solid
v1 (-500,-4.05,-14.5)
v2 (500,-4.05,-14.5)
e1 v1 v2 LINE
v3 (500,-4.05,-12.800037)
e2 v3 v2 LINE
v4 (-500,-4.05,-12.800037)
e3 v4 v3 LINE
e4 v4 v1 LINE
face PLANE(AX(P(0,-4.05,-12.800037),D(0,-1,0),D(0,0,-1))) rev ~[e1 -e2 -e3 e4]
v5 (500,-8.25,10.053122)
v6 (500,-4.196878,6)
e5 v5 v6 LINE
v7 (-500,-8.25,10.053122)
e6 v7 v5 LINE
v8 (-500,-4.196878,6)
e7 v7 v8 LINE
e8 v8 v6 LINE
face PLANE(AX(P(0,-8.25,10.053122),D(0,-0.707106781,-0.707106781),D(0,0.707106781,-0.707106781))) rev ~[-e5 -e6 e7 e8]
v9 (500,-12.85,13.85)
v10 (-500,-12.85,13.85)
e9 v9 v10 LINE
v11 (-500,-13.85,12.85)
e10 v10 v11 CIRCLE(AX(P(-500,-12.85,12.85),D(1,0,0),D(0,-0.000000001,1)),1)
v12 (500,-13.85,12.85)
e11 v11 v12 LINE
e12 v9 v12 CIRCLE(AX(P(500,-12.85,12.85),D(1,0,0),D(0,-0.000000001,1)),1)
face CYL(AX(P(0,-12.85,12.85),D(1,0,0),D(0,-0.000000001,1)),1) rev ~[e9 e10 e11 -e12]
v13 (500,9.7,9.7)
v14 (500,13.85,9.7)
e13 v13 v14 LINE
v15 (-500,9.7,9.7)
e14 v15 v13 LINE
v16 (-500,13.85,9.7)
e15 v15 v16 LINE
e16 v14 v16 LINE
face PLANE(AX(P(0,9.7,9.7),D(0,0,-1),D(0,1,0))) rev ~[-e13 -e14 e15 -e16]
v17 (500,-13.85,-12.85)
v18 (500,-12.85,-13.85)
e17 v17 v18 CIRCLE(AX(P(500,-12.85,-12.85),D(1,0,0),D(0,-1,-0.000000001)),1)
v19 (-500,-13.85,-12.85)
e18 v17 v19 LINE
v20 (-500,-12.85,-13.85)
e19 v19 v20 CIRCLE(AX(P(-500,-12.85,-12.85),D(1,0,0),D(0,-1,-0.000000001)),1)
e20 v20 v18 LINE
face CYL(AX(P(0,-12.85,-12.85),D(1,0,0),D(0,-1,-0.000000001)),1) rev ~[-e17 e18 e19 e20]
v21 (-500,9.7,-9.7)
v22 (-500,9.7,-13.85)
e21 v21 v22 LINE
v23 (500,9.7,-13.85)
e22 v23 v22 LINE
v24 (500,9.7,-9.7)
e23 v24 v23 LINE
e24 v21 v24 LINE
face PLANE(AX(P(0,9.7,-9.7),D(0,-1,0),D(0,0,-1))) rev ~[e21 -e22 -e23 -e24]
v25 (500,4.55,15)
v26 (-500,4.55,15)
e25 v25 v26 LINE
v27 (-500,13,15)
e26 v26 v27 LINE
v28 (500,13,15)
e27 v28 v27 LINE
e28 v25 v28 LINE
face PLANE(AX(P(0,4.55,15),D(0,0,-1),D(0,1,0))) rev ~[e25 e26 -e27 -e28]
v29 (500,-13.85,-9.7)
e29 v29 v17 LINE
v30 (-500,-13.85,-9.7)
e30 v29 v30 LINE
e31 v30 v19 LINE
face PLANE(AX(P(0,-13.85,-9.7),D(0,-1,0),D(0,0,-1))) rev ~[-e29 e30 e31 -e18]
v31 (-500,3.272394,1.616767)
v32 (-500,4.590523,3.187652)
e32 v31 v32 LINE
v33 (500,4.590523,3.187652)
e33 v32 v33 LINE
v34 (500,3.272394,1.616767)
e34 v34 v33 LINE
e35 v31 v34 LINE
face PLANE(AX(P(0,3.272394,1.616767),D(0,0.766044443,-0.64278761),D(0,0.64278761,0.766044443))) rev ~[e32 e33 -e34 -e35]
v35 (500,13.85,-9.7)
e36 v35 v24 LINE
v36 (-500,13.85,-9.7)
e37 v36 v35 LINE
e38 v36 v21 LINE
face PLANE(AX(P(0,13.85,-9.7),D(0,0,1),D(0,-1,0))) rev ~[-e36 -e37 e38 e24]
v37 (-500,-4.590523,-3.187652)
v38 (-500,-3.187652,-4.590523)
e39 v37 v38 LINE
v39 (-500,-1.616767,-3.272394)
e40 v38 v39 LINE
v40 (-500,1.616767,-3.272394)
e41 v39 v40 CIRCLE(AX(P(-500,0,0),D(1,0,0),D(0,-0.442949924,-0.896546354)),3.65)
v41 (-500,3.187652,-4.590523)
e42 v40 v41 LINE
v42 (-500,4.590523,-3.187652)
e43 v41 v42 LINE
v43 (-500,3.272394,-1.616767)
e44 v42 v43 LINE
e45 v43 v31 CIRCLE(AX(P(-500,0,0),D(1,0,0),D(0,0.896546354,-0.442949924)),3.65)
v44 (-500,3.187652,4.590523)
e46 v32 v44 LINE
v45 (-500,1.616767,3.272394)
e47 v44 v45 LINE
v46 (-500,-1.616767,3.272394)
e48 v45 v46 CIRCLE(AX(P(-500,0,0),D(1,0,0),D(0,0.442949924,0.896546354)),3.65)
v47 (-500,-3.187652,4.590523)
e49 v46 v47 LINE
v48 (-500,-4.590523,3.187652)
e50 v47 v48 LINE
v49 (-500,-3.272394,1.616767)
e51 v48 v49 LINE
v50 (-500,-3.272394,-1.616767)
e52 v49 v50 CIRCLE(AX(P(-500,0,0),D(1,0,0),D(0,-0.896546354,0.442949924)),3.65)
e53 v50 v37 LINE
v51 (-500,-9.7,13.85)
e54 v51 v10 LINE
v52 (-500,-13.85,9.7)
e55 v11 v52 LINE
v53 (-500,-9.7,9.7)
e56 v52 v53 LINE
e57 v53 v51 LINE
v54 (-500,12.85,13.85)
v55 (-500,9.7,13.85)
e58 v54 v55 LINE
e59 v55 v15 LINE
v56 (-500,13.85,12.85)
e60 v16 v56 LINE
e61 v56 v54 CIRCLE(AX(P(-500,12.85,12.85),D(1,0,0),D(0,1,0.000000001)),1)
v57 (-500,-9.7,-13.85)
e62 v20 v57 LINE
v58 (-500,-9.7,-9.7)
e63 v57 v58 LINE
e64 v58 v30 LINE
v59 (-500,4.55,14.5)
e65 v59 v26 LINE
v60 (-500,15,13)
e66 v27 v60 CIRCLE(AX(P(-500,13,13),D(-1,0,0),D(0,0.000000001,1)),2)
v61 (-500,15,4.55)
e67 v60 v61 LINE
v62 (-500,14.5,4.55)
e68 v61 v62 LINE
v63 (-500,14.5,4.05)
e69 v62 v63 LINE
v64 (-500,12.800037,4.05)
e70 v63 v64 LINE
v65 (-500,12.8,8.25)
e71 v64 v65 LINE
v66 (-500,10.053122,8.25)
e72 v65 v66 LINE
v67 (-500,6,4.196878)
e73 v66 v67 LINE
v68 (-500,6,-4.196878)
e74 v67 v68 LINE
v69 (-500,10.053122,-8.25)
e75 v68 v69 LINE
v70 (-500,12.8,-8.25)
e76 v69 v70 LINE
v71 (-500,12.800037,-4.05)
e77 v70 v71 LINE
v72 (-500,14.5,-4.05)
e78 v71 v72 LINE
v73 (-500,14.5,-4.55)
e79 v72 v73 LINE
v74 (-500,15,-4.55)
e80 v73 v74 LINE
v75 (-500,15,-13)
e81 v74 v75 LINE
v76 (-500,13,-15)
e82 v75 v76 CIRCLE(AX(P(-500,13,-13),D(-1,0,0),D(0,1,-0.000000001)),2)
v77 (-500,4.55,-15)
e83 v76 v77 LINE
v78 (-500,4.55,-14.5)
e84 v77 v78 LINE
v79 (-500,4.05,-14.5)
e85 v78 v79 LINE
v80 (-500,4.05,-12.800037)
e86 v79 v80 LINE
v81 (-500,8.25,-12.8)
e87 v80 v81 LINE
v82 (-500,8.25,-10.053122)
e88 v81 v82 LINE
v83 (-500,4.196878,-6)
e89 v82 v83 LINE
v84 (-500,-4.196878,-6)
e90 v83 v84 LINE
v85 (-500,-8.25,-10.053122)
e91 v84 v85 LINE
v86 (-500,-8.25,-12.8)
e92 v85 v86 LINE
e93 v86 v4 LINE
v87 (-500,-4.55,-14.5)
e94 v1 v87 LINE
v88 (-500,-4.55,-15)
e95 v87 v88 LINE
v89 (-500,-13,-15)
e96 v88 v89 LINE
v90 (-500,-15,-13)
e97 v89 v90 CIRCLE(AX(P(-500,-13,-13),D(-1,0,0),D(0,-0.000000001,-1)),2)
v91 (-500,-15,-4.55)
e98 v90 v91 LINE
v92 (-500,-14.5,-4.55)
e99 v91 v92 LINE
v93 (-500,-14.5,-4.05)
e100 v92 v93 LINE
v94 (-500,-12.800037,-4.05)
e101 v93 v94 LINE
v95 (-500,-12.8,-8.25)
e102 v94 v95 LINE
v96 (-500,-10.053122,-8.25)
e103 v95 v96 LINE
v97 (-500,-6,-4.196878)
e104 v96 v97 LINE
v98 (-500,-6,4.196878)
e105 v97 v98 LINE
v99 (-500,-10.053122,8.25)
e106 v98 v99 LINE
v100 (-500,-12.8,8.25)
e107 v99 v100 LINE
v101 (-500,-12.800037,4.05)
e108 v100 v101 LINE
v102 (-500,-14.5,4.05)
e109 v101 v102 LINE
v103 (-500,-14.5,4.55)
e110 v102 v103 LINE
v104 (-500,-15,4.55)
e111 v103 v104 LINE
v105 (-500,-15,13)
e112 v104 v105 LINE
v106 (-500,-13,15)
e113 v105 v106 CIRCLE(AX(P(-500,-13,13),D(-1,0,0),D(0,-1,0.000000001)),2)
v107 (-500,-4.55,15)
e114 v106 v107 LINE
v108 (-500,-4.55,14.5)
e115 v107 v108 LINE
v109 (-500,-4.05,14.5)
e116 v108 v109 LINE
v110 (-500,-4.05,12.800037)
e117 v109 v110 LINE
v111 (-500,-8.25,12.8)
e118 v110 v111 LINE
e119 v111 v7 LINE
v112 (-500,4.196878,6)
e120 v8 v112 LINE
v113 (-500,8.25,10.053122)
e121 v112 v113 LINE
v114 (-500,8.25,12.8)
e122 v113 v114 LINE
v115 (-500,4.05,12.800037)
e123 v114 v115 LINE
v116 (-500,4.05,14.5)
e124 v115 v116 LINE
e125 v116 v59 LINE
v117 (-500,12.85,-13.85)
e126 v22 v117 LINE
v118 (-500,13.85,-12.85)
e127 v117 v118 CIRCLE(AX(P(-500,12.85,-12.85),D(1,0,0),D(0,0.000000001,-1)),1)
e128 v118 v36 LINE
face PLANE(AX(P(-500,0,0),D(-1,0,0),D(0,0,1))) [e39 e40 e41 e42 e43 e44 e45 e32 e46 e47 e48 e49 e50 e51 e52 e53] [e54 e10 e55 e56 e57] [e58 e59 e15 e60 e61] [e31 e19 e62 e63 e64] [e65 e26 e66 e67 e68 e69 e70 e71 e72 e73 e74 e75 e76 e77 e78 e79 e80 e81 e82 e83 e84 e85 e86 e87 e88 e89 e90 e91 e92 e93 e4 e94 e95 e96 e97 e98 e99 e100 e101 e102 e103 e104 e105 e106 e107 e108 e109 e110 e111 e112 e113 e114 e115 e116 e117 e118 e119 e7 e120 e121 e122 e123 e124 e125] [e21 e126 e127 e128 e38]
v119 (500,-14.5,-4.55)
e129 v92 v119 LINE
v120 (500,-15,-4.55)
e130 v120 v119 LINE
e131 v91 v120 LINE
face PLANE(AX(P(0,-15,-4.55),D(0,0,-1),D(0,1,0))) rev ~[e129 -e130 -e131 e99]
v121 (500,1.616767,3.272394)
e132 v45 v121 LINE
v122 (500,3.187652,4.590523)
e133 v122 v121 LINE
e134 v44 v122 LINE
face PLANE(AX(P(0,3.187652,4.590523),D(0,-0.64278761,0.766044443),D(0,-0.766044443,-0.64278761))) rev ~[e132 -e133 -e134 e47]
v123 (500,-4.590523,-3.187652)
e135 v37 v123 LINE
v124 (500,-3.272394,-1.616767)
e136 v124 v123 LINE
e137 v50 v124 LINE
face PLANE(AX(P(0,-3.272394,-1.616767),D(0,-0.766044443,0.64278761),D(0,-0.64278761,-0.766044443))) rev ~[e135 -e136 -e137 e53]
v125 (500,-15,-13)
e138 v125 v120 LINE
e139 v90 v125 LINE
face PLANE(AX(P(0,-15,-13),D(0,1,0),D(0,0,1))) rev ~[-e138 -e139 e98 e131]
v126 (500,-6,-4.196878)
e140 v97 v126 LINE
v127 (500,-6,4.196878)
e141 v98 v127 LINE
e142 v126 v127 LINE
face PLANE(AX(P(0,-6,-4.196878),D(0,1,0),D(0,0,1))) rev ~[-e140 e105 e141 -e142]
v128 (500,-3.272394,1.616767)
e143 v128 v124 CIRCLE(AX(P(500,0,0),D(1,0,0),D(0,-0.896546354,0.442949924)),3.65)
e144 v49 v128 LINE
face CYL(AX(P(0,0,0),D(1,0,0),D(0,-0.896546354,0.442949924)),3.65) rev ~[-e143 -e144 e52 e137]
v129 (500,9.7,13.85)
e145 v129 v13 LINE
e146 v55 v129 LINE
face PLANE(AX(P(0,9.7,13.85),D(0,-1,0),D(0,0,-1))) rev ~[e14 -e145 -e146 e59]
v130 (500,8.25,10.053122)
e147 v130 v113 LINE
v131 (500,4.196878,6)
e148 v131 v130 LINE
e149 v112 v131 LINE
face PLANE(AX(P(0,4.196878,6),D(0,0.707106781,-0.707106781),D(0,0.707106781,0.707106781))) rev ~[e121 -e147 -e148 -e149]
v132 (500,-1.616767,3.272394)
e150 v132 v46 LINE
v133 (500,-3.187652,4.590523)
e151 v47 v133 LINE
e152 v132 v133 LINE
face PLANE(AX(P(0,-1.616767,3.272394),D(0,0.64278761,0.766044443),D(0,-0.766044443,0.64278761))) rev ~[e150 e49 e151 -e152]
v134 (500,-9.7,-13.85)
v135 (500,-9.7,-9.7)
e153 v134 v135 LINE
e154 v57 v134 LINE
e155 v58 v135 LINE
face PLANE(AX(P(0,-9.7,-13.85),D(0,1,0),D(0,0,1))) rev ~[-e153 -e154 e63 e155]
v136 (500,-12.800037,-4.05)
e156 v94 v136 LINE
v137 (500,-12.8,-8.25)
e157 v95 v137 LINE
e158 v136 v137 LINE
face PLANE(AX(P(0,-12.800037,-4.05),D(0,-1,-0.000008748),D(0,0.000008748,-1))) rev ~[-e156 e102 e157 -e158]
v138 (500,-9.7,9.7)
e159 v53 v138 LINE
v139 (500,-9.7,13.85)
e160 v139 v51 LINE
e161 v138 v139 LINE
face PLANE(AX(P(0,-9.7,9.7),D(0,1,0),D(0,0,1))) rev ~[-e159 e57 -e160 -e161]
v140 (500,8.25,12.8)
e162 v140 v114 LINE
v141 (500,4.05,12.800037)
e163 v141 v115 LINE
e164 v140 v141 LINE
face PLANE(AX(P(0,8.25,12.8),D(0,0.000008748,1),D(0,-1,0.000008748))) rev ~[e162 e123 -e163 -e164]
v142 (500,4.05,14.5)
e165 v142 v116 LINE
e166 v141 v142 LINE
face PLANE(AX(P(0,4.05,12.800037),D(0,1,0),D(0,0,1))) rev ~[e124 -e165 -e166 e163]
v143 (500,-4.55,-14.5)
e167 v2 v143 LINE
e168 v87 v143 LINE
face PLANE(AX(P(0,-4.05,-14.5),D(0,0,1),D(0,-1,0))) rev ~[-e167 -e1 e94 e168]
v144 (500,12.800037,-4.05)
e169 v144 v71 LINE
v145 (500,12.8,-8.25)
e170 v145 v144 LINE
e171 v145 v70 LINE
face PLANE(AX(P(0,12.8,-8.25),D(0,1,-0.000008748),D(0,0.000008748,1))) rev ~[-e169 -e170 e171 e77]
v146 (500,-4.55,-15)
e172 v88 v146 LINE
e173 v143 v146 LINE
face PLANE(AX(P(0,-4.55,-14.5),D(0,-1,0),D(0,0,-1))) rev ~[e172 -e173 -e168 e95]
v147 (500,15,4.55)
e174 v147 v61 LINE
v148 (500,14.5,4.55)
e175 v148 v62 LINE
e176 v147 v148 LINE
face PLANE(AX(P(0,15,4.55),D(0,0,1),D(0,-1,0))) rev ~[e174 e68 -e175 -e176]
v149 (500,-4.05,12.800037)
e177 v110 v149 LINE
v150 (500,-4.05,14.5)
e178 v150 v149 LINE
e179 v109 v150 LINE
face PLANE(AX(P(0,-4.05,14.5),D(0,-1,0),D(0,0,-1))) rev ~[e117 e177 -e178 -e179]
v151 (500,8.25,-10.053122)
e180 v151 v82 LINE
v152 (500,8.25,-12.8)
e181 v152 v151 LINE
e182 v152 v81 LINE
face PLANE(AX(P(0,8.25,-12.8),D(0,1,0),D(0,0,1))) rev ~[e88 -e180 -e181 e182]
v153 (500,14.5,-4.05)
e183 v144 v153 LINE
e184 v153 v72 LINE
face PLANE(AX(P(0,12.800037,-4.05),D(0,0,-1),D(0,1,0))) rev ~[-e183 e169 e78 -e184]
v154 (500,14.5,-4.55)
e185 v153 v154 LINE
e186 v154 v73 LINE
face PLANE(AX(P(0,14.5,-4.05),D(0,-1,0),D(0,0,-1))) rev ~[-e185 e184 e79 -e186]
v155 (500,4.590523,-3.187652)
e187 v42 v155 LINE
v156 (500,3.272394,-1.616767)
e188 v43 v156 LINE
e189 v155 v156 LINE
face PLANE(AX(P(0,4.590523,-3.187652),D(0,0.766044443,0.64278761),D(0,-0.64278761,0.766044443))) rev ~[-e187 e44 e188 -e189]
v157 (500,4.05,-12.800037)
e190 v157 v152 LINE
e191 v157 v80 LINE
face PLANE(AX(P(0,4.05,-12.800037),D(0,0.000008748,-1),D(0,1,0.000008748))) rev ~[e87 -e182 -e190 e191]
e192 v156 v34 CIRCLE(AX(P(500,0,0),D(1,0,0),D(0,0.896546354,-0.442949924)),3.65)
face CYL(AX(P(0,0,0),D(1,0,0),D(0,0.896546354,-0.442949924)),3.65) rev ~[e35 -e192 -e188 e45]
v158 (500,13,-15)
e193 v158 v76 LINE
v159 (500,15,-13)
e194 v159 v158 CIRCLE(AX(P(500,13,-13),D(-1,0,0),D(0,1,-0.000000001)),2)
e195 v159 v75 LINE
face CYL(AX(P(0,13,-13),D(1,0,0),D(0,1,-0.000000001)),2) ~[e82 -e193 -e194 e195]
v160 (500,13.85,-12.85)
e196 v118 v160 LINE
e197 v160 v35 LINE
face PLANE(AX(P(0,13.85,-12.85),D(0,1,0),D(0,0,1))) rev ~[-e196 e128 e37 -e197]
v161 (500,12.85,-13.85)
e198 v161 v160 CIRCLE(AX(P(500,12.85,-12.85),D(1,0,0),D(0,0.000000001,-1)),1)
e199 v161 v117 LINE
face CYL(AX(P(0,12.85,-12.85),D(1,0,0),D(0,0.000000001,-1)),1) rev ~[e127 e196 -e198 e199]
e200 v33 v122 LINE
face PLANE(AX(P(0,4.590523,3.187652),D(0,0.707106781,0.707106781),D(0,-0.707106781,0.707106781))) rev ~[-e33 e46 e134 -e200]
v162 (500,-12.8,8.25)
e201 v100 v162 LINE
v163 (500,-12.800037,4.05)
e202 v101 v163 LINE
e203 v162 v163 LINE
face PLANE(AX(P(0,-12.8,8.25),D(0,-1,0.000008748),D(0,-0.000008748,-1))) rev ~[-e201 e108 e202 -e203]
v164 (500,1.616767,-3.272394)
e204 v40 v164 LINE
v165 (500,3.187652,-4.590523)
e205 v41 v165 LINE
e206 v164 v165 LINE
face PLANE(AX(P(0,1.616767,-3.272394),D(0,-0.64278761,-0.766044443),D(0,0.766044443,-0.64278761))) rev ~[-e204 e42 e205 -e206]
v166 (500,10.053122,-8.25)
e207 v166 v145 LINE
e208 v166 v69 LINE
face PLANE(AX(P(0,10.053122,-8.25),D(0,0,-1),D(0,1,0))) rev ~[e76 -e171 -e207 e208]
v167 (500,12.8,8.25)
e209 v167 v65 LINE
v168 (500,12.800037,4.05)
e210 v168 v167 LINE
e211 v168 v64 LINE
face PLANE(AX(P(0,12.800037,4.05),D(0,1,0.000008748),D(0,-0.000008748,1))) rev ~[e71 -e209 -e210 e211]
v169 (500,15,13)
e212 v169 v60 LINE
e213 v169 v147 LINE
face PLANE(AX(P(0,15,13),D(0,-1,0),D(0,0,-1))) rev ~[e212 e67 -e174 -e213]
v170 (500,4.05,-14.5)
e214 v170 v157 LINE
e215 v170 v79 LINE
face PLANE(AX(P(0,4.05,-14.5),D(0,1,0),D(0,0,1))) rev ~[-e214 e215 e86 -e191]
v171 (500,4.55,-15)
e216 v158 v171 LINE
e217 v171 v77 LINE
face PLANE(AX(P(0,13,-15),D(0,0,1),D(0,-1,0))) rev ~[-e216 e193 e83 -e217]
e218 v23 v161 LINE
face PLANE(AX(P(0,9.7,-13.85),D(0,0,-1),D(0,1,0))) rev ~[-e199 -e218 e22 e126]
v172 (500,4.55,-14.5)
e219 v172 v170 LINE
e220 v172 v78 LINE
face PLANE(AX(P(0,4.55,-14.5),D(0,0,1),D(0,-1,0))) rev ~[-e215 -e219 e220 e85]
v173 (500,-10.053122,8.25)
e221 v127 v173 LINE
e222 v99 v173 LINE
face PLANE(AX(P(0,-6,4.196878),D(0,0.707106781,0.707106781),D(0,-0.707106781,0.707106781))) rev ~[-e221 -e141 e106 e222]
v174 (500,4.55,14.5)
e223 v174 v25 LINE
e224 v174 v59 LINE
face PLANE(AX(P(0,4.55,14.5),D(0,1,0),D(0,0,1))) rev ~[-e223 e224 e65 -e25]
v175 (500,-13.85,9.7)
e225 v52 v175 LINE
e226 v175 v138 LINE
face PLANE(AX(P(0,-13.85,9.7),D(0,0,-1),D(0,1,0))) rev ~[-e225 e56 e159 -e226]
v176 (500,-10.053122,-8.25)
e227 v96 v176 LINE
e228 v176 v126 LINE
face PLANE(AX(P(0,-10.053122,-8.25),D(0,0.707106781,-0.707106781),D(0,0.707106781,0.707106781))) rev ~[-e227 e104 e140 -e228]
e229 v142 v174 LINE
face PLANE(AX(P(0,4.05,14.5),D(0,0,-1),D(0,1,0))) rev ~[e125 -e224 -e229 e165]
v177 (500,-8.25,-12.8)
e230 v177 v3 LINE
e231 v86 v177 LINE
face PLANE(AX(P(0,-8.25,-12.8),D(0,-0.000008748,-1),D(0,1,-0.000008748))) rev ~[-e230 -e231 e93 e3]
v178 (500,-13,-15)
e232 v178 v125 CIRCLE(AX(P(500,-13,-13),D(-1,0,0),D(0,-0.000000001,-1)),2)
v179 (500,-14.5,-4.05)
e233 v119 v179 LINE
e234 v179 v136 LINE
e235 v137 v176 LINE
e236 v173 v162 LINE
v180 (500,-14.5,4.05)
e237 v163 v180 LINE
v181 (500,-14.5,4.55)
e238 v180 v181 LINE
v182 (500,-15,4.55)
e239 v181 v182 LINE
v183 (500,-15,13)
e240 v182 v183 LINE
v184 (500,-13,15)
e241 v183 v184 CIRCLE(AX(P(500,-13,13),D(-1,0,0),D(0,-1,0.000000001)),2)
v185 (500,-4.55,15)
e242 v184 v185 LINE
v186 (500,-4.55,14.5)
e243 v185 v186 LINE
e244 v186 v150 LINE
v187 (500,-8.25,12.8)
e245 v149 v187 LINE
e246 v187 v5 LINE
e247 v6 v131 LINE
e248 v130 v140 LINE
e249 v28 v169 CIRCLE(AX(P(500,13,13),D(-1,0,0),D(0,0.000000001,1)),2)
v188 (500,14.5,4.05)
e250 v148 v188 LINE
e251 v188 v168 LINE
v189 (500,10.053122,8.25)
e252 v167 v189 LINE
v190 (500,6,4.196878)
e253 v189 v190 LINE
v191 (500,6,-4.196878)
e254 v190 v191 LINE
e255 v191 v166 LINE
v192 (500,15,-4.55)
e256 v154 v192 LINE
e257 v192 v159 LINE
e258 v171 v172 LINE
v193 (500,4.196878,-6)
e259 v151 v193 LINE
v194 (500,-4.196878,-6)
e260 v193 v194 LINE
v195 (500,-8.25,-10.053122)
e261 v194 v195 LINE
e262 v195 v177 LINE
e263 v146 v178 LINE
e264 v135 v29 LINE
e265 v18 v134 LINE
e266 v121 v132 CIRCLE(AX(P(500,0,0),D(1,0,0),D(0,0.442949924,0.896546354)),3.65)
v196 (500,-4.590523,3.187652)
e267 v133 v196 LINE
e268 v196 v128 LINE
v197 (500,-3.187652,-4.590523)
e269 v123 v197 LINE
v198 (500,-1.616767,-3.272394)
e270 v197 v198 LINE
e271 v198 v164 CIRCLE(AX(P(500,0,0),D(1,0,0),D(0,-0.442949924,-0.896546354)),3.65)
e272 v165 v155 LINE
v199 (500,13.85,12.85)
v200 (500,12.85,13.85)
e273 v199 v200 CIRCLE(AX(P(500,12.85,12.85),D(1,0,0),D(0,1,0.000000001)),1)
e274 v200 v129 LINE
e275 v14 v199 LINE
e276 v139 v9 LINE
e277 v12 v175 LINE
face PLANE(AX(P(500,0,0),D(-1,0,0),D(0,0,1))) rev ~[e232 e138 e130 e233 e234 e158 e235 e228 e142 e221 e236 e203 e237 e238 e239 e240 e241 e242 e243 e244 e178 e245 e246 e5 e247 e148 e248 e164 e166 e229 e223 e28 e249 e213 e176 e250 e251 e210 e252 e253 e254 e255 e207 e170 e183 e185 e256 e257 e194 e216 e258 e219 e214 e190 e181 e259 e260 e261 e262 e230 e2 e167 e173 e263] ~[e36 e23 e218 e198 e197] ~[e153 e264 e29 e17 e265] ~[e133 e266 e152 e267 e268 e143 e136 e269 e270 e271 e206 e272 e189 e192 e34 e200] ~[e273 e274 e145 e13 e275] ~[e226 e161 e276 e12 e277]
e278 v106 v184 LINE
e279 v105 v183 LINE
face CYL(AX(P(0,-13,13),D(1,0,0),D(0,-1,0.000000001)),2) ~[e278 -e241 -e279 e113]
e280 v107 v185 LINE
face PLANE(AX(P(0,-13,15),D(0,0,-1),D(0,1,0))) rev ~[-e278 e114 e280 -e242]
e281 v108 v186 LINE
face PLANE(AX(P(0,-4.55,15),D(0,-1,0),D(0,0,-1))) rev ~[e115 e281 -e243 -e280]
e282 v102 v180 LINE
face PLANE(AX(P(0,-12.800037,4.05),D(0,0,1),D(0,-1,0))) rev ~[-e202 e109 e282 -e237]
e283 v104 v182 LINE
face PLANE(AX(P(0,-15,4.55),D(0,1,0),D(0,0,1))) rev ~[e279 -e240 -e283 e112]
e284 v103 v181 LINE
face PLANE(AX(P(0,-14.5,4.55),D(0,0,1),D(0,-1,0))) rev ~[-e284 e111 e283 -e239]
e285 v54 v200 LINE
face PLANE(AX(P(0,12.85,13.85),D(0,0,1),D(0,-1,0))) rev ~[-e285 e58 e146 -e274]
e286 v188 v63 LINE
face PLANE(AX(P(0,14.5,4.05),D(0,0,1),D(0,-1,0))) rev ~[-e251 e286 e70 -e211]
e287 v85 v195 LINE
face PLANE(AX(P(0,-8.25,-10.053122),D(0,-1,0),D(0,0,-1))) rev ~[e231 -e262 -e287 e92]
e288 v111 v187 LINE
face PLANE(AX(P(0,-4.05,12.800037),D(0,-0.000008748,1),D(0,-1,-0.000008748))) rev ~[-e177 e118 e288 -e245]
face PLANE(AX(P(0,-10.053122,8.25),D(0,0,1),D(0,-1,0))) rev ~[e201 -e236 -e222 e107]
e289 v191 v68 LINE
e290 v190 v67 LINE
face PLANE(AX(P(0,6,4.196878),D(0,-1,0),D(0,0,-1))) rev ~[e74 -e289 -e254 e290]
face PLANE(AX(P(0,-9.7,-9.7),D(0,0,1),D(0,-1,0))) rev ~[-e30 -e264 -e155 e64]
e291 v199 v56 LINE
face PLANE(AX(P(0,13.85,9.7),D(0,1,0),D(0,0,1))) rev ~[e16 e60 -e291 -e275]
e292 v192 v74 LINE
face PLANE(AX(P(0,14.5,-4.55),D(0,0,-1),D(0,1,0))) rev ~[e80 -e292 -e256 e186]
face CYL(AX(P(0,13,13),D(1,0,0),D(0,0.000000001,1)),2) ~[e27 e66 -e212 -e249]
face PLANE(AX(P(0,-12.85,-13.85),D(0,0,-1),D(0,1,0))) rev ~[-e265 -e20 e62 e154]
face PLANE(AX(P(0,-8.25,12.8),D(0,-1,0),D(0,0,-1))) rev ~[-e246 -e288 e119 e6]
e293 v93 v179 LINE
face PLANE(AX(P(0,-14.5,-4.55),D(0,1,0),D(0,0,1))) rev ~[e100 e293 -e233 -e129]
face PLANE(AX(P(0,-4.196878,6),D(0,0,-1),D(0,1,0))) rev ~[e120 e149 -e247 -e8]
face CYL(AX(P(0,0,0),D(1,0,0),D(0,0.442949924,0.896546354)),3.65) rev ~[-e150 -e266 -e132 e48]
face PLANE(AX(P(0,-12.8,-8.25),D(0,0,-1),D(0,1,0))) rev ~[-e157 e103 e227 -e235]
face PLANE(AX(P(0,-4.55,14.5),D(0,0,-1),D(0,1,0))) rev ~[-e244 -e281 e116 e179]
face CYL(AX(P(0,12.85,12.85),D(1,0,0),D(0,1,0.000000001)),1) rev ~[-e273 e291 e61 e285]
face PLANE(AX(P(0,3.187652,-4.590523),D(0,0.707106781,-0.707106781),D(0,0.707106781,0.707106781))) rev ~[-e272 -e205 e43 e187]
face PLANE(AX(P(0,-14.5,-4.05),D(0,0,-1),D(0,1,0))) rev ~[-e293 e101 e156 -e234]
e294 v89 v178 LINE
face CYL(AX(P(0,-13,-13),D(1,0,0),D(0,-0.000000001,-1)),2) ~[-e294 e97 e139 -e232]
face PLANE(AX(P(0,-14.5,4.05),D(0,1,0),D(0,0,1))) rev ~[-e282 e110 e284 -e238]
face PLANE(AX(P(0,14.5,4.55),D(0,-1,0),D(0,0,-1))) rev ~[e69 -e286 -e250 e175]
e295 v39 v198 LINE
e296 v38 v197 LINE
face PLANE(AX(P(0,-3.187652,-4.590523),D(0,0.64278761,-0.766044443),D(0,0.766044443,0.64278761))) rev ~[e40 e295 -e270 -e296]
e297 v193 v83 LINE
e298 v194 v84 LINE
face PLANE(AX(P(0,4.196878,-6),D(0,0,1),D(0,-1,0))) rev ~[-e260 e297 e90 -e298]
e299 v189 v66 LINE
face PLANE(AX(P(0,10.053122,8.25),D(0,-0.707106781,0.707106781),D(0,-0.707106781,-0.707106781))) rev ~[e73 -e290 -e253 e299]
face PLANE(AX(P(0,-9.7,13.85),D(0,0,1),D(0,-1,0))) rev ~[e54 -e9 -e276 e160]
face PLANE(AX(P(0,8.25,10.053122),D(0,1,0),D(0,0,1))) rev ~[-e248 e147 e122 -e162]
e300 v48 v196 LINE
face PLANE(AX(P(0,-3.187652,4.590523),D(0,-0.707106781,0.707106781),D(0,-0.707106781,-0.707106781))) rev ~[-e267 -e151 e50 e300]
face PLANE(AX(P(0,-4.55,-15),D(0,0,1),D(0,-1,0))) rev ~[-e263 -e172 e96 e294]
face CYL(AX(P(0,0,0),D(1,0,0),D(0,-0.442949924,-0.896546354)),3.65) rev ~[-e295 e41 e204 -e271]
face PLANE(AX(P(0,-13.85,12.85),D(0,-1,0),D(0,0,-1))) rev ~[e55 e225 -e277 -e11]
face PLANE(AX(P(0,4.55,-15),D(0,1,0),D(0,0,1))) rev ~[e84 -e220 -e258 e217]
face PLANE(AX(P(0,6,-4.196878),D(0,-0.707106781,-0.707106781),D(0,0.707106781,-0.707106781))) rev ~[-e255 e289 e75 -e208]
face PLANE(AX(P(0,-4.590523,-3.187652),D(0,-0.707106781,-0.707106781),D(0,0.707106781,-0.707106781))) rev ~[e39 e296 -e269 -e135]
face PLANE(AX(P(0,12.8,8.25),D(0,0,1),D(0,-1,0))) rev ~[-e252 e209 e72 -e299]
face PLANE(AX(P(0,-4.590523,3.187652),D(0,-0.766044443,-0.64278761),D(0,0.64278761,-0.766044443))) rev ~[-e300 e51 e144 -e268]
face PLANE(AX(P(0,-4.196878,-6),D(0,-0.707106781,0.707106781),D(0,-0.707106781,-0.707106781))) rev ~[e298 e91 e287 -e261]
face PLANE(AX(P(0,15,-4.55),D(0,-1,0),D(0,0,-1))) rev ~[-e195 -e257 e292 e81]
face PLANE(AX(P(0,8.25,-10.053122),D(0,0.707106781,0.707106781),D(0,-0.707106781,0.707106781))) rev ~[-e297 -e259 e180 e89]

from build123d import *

# Parameters (mm, degrees)
BR_EXTRUDE_DEPTH      = 500
BR_EXTRUDE_DEPTH_BACK = 500


with BuildPart() as part:
    # Sketch2 → BR_Extrude (new, two sides: drawn at the far end of the back side and taken through both)
    with BuildSketch(Plane(origin=(0, 0, 0), x_dir=(0, 0, -1), z_dir=(1, 0, 0)).offset(-BR_EXTRUDE_DEPTH_BACK)):
        with BuildLine():
            Line((-6, 4.196877708), (-10.053122292, 8.25))
            Line((-10.053122292, 8.25), (-12.8, 8.25))
            Line((-12.8, 8.25), (-12.800036742, 4.05))
            Line((-12.800036742, 4.05), (-14.5, 4.05))
            Line((-14.5, 4.05), (-14.5, 4.55))
            Line((-14.5, 4.55), (-15, 4.55))
            Line((-15, 4.55), (-15, 13))
            ThreePointArc((-15, 13), (-14.414213562, 14.414213562), (-13, 15))
            Line((-13, 15), (-4.55, 15))
            Line((-4.55, 15), (-4.55, 14.5))
            Line((-4.55, 14.5), (-4.05, 14.5))
            Line((-4.05, 14.5), (-4.05, 12.800036742))
            Line((-4.05, 12.800036742), (-8.25, 12.8))
            Line((-8.25, 12.8), (-8.25, 10.053122292))
            Line((-8.25, 10.053122292), (-4.196877708, 6))
            Line((-4.196877708, 6), (4.196877708, 6))
            Line((4.196877708, 6), (8.25, 10.053122292))
            Line((8.25, 10.053122292), (8.25, 12.8))
            Line((8.25, 12.8), (4.05, 12.800036742))
            Line((4.05, 12.800036742), (4.05, 14.5))
            Line((4.05, 14.5), (4.55, 14.5))
            Line((4.55, 14.5), (4.55, 15))
            Line((4.55, 15), (13, 15))
            ThreePointArc((13, 15), (14.414213562, 14.414213562), (15, 13))
            Line((15, 13), (15, 4.55))
            Line((15, 4.55), (14.5, 4.55))
            Line((14.5, 4.55), (14.5, 4.05))
            Line((14.5, 4.05), (12.800036742, 4.05))
            Line((12.800036742, 4.05), (12.8, 8.25))
            Line((12.8, 8.25), (10.053122292, 8.25))
            Line((10.053122292, 8.25), (6, 4.196877708))
            Line((6, 4.196877708), (6, -4.196877708))
            Line((6, -4.196877708), (10.053122292, -8.25))
            Line((10.053122292, -8.25), (12.8, -8.25))
            Line((12.8, -8.25), (12.800036742, -4.05))
            Line((12.800036742, -4.05), (14.5, -4.05))
            Line((14.5, -4.05), (14.5, -4.55))
            Line((14.5, -4.55), (15, -4.55))
            Line((15, -4.55), (15, -13))
            ThreePointArc((15, -13), (14.414213562, -14.414213562), (13, -15))
            Line((13, -15), (4.55, -15))
            Line((4.55, -15), (4.55, -14.5))
            Line((4.55, -14.5), (4.05, -14.5))
            Line((4.05, -14.5), (4.05, -12.800036742))
            Line((4.05, -12.800036742), (8.25, -12.8))
            Line((8.25, -12.8), (8.25, -10.053122292))
            Line((8.25, -10.053122292), (4.196877708, -6))
            Line((4.196877708, -6), (-4.196877708, -6))
            Line((-4.196877708, -6), (-8.25, -10.053122292))
            Line((-8.25, -10.053122292), (-8.25, -12.8))
            Line((-8.25, -12.8), (-4.05, -12.800036742))
            Line((-4.05, -12.800036742), (-4.05, -14.5))
            Line((-4.05, -14.5), (-4.55, -14.5))
            Line((-4.55, -14.5), (-4.55, -15))
            Line((-4.55, -15), (-13, -15))
            ThreePointArc((-13, -15), (-14.414213562, -14.414213562), (-15, -13))
            Line((-15, -13), (-15, -4.55))
            Line((-15, -4.55), (-14.5, -4.55))
            Line((-14.5, -4.55), (-14.5, -4.05))
            Line((-14.5, -4.05), (-12.800036742, -4.05))
            Line((-12.800036742, -4.05), (-12.8, -8.25))
            Line((-12.8, -8.25), (-10.053122292, -8.25))
            Line((-10.053122292, -8.25), (-6, -4.196877708))
            Line((-6, -4.196877708), (-6, 4.196877708))
        make_face()
        with BuildLine():
            Line((-13.85, -9.7), (-13.85, -12.85))
            ThreePointArc((-13.85, -12.85), (-13.557106781, -13.557106781), (-12.85, -13.85))
            Line((-12.85, -13.85), (-9.7, -13.85))
            Line((-9.7, -13.85), (-9.7, -9.7))
            Line((-9.7, -9.7), (-13.85, -9.7))
        make_face(mode=Mode.SUBTRACT)
        with BuildLine():
            Line((9.7, -13.85), (12.85, -13.85))
            ThreePointArc((12.85, -13.85), (13.557106781, -13.557106781), (13.85, -12.85))
            Line((13.85, -12.85), (13.85, -9.7))
            Line((13.85, -9.7), (9.7, -9.7))
            Line((9.7, -9.7), (9.7, -13.85))
        make_face(mode=Mode.SUBTRACT)
        with BuildLine():
            Line((13.85, 9.7), (13.85, 12.85))
            ThreePointArc((13.85, 12.85), (13.557106781, 13.557106781), (12.85, 13.85))
            Line((12.85, 13.85), (9.7, 13.85))
            Line((9.7, 13.85), (9.7, 9.7))
            Line((9.7, 9.7), (13.85, 9.7))
        make_face(mode=Mode.SUBTRACT)
        with BuildLine():
            Line((-9.7, 13.85), (-12.85, 13.85))
            ThreePointArc((-12.85, 13.85), (-13.557106781, 13.557106781), (-13.85, 12.85))
            Line((-13.85, 12.85), (-13.85, 9.7))
            Line((-13.85, 9.7), (-9.7, 9.7))
            Line((-9.7, 9.7), (-9.7, 13.85))
        make_face(mode=Mode.SUBTRACT)
        with BuildLine():
            Line((-3.272394192, -1.616767223), (-4.59052283, -3.187651763))
            Line((-4.59052283, -3.187651763), (-3.187651763, -4.59052283))
            Line((-3.187651763, -4.59052283), (-1.616767223, -3.272394192))
            ThreePointArc((-1.616767223, -3.272394192), (0, -3.65), (1.616767223, -3.272394192))
            Line((1.616767223, -3.272394192), (3.187651763, -4.59052283))
            Line((3.187651763, -4.59052283), (4.59052283, -3.187651763))
            Line((4.59052283, -3.187651763), (3.272394192, -1.616767223))
            ThreePointArc((3.272394192, -1.616767223), (3.65, 0), (3.272394192, 1.616767223))
            Line((3.272394192, 1.616767223), (4.59052283, 3.187651763))
            Line((4.59052283, 3.187651763), (3.187651763, 4.59052283))
            Line((3.187651763, 4.59052283), (1.616767223, 3.272394192))
            ThreePointArc((1.616767223, 3.272394192), (0, 3.65), (-1.616767223, 3.272394192))
            Line((-1.616767223, 3.272394192), (-3.187651763, 4.59052283))
            Line((-3.187651763, 4.59052283), (-4.59052283, 3.187651763))
            Line((-4.59052283, 3.187651763), (-3.272394192, 1.616767223))
            ThreePointArc((-3.272394192, 1.616767223), (-3.65, 0), (-3.272394192, -1.616767223))
        make_face(mode=Mode.SUBTRACT)
    extrude(amount=BR_EXTRUDE_DEPTH + BR_EXTRUDE_DEPTH_BACK)


solid = part.part
